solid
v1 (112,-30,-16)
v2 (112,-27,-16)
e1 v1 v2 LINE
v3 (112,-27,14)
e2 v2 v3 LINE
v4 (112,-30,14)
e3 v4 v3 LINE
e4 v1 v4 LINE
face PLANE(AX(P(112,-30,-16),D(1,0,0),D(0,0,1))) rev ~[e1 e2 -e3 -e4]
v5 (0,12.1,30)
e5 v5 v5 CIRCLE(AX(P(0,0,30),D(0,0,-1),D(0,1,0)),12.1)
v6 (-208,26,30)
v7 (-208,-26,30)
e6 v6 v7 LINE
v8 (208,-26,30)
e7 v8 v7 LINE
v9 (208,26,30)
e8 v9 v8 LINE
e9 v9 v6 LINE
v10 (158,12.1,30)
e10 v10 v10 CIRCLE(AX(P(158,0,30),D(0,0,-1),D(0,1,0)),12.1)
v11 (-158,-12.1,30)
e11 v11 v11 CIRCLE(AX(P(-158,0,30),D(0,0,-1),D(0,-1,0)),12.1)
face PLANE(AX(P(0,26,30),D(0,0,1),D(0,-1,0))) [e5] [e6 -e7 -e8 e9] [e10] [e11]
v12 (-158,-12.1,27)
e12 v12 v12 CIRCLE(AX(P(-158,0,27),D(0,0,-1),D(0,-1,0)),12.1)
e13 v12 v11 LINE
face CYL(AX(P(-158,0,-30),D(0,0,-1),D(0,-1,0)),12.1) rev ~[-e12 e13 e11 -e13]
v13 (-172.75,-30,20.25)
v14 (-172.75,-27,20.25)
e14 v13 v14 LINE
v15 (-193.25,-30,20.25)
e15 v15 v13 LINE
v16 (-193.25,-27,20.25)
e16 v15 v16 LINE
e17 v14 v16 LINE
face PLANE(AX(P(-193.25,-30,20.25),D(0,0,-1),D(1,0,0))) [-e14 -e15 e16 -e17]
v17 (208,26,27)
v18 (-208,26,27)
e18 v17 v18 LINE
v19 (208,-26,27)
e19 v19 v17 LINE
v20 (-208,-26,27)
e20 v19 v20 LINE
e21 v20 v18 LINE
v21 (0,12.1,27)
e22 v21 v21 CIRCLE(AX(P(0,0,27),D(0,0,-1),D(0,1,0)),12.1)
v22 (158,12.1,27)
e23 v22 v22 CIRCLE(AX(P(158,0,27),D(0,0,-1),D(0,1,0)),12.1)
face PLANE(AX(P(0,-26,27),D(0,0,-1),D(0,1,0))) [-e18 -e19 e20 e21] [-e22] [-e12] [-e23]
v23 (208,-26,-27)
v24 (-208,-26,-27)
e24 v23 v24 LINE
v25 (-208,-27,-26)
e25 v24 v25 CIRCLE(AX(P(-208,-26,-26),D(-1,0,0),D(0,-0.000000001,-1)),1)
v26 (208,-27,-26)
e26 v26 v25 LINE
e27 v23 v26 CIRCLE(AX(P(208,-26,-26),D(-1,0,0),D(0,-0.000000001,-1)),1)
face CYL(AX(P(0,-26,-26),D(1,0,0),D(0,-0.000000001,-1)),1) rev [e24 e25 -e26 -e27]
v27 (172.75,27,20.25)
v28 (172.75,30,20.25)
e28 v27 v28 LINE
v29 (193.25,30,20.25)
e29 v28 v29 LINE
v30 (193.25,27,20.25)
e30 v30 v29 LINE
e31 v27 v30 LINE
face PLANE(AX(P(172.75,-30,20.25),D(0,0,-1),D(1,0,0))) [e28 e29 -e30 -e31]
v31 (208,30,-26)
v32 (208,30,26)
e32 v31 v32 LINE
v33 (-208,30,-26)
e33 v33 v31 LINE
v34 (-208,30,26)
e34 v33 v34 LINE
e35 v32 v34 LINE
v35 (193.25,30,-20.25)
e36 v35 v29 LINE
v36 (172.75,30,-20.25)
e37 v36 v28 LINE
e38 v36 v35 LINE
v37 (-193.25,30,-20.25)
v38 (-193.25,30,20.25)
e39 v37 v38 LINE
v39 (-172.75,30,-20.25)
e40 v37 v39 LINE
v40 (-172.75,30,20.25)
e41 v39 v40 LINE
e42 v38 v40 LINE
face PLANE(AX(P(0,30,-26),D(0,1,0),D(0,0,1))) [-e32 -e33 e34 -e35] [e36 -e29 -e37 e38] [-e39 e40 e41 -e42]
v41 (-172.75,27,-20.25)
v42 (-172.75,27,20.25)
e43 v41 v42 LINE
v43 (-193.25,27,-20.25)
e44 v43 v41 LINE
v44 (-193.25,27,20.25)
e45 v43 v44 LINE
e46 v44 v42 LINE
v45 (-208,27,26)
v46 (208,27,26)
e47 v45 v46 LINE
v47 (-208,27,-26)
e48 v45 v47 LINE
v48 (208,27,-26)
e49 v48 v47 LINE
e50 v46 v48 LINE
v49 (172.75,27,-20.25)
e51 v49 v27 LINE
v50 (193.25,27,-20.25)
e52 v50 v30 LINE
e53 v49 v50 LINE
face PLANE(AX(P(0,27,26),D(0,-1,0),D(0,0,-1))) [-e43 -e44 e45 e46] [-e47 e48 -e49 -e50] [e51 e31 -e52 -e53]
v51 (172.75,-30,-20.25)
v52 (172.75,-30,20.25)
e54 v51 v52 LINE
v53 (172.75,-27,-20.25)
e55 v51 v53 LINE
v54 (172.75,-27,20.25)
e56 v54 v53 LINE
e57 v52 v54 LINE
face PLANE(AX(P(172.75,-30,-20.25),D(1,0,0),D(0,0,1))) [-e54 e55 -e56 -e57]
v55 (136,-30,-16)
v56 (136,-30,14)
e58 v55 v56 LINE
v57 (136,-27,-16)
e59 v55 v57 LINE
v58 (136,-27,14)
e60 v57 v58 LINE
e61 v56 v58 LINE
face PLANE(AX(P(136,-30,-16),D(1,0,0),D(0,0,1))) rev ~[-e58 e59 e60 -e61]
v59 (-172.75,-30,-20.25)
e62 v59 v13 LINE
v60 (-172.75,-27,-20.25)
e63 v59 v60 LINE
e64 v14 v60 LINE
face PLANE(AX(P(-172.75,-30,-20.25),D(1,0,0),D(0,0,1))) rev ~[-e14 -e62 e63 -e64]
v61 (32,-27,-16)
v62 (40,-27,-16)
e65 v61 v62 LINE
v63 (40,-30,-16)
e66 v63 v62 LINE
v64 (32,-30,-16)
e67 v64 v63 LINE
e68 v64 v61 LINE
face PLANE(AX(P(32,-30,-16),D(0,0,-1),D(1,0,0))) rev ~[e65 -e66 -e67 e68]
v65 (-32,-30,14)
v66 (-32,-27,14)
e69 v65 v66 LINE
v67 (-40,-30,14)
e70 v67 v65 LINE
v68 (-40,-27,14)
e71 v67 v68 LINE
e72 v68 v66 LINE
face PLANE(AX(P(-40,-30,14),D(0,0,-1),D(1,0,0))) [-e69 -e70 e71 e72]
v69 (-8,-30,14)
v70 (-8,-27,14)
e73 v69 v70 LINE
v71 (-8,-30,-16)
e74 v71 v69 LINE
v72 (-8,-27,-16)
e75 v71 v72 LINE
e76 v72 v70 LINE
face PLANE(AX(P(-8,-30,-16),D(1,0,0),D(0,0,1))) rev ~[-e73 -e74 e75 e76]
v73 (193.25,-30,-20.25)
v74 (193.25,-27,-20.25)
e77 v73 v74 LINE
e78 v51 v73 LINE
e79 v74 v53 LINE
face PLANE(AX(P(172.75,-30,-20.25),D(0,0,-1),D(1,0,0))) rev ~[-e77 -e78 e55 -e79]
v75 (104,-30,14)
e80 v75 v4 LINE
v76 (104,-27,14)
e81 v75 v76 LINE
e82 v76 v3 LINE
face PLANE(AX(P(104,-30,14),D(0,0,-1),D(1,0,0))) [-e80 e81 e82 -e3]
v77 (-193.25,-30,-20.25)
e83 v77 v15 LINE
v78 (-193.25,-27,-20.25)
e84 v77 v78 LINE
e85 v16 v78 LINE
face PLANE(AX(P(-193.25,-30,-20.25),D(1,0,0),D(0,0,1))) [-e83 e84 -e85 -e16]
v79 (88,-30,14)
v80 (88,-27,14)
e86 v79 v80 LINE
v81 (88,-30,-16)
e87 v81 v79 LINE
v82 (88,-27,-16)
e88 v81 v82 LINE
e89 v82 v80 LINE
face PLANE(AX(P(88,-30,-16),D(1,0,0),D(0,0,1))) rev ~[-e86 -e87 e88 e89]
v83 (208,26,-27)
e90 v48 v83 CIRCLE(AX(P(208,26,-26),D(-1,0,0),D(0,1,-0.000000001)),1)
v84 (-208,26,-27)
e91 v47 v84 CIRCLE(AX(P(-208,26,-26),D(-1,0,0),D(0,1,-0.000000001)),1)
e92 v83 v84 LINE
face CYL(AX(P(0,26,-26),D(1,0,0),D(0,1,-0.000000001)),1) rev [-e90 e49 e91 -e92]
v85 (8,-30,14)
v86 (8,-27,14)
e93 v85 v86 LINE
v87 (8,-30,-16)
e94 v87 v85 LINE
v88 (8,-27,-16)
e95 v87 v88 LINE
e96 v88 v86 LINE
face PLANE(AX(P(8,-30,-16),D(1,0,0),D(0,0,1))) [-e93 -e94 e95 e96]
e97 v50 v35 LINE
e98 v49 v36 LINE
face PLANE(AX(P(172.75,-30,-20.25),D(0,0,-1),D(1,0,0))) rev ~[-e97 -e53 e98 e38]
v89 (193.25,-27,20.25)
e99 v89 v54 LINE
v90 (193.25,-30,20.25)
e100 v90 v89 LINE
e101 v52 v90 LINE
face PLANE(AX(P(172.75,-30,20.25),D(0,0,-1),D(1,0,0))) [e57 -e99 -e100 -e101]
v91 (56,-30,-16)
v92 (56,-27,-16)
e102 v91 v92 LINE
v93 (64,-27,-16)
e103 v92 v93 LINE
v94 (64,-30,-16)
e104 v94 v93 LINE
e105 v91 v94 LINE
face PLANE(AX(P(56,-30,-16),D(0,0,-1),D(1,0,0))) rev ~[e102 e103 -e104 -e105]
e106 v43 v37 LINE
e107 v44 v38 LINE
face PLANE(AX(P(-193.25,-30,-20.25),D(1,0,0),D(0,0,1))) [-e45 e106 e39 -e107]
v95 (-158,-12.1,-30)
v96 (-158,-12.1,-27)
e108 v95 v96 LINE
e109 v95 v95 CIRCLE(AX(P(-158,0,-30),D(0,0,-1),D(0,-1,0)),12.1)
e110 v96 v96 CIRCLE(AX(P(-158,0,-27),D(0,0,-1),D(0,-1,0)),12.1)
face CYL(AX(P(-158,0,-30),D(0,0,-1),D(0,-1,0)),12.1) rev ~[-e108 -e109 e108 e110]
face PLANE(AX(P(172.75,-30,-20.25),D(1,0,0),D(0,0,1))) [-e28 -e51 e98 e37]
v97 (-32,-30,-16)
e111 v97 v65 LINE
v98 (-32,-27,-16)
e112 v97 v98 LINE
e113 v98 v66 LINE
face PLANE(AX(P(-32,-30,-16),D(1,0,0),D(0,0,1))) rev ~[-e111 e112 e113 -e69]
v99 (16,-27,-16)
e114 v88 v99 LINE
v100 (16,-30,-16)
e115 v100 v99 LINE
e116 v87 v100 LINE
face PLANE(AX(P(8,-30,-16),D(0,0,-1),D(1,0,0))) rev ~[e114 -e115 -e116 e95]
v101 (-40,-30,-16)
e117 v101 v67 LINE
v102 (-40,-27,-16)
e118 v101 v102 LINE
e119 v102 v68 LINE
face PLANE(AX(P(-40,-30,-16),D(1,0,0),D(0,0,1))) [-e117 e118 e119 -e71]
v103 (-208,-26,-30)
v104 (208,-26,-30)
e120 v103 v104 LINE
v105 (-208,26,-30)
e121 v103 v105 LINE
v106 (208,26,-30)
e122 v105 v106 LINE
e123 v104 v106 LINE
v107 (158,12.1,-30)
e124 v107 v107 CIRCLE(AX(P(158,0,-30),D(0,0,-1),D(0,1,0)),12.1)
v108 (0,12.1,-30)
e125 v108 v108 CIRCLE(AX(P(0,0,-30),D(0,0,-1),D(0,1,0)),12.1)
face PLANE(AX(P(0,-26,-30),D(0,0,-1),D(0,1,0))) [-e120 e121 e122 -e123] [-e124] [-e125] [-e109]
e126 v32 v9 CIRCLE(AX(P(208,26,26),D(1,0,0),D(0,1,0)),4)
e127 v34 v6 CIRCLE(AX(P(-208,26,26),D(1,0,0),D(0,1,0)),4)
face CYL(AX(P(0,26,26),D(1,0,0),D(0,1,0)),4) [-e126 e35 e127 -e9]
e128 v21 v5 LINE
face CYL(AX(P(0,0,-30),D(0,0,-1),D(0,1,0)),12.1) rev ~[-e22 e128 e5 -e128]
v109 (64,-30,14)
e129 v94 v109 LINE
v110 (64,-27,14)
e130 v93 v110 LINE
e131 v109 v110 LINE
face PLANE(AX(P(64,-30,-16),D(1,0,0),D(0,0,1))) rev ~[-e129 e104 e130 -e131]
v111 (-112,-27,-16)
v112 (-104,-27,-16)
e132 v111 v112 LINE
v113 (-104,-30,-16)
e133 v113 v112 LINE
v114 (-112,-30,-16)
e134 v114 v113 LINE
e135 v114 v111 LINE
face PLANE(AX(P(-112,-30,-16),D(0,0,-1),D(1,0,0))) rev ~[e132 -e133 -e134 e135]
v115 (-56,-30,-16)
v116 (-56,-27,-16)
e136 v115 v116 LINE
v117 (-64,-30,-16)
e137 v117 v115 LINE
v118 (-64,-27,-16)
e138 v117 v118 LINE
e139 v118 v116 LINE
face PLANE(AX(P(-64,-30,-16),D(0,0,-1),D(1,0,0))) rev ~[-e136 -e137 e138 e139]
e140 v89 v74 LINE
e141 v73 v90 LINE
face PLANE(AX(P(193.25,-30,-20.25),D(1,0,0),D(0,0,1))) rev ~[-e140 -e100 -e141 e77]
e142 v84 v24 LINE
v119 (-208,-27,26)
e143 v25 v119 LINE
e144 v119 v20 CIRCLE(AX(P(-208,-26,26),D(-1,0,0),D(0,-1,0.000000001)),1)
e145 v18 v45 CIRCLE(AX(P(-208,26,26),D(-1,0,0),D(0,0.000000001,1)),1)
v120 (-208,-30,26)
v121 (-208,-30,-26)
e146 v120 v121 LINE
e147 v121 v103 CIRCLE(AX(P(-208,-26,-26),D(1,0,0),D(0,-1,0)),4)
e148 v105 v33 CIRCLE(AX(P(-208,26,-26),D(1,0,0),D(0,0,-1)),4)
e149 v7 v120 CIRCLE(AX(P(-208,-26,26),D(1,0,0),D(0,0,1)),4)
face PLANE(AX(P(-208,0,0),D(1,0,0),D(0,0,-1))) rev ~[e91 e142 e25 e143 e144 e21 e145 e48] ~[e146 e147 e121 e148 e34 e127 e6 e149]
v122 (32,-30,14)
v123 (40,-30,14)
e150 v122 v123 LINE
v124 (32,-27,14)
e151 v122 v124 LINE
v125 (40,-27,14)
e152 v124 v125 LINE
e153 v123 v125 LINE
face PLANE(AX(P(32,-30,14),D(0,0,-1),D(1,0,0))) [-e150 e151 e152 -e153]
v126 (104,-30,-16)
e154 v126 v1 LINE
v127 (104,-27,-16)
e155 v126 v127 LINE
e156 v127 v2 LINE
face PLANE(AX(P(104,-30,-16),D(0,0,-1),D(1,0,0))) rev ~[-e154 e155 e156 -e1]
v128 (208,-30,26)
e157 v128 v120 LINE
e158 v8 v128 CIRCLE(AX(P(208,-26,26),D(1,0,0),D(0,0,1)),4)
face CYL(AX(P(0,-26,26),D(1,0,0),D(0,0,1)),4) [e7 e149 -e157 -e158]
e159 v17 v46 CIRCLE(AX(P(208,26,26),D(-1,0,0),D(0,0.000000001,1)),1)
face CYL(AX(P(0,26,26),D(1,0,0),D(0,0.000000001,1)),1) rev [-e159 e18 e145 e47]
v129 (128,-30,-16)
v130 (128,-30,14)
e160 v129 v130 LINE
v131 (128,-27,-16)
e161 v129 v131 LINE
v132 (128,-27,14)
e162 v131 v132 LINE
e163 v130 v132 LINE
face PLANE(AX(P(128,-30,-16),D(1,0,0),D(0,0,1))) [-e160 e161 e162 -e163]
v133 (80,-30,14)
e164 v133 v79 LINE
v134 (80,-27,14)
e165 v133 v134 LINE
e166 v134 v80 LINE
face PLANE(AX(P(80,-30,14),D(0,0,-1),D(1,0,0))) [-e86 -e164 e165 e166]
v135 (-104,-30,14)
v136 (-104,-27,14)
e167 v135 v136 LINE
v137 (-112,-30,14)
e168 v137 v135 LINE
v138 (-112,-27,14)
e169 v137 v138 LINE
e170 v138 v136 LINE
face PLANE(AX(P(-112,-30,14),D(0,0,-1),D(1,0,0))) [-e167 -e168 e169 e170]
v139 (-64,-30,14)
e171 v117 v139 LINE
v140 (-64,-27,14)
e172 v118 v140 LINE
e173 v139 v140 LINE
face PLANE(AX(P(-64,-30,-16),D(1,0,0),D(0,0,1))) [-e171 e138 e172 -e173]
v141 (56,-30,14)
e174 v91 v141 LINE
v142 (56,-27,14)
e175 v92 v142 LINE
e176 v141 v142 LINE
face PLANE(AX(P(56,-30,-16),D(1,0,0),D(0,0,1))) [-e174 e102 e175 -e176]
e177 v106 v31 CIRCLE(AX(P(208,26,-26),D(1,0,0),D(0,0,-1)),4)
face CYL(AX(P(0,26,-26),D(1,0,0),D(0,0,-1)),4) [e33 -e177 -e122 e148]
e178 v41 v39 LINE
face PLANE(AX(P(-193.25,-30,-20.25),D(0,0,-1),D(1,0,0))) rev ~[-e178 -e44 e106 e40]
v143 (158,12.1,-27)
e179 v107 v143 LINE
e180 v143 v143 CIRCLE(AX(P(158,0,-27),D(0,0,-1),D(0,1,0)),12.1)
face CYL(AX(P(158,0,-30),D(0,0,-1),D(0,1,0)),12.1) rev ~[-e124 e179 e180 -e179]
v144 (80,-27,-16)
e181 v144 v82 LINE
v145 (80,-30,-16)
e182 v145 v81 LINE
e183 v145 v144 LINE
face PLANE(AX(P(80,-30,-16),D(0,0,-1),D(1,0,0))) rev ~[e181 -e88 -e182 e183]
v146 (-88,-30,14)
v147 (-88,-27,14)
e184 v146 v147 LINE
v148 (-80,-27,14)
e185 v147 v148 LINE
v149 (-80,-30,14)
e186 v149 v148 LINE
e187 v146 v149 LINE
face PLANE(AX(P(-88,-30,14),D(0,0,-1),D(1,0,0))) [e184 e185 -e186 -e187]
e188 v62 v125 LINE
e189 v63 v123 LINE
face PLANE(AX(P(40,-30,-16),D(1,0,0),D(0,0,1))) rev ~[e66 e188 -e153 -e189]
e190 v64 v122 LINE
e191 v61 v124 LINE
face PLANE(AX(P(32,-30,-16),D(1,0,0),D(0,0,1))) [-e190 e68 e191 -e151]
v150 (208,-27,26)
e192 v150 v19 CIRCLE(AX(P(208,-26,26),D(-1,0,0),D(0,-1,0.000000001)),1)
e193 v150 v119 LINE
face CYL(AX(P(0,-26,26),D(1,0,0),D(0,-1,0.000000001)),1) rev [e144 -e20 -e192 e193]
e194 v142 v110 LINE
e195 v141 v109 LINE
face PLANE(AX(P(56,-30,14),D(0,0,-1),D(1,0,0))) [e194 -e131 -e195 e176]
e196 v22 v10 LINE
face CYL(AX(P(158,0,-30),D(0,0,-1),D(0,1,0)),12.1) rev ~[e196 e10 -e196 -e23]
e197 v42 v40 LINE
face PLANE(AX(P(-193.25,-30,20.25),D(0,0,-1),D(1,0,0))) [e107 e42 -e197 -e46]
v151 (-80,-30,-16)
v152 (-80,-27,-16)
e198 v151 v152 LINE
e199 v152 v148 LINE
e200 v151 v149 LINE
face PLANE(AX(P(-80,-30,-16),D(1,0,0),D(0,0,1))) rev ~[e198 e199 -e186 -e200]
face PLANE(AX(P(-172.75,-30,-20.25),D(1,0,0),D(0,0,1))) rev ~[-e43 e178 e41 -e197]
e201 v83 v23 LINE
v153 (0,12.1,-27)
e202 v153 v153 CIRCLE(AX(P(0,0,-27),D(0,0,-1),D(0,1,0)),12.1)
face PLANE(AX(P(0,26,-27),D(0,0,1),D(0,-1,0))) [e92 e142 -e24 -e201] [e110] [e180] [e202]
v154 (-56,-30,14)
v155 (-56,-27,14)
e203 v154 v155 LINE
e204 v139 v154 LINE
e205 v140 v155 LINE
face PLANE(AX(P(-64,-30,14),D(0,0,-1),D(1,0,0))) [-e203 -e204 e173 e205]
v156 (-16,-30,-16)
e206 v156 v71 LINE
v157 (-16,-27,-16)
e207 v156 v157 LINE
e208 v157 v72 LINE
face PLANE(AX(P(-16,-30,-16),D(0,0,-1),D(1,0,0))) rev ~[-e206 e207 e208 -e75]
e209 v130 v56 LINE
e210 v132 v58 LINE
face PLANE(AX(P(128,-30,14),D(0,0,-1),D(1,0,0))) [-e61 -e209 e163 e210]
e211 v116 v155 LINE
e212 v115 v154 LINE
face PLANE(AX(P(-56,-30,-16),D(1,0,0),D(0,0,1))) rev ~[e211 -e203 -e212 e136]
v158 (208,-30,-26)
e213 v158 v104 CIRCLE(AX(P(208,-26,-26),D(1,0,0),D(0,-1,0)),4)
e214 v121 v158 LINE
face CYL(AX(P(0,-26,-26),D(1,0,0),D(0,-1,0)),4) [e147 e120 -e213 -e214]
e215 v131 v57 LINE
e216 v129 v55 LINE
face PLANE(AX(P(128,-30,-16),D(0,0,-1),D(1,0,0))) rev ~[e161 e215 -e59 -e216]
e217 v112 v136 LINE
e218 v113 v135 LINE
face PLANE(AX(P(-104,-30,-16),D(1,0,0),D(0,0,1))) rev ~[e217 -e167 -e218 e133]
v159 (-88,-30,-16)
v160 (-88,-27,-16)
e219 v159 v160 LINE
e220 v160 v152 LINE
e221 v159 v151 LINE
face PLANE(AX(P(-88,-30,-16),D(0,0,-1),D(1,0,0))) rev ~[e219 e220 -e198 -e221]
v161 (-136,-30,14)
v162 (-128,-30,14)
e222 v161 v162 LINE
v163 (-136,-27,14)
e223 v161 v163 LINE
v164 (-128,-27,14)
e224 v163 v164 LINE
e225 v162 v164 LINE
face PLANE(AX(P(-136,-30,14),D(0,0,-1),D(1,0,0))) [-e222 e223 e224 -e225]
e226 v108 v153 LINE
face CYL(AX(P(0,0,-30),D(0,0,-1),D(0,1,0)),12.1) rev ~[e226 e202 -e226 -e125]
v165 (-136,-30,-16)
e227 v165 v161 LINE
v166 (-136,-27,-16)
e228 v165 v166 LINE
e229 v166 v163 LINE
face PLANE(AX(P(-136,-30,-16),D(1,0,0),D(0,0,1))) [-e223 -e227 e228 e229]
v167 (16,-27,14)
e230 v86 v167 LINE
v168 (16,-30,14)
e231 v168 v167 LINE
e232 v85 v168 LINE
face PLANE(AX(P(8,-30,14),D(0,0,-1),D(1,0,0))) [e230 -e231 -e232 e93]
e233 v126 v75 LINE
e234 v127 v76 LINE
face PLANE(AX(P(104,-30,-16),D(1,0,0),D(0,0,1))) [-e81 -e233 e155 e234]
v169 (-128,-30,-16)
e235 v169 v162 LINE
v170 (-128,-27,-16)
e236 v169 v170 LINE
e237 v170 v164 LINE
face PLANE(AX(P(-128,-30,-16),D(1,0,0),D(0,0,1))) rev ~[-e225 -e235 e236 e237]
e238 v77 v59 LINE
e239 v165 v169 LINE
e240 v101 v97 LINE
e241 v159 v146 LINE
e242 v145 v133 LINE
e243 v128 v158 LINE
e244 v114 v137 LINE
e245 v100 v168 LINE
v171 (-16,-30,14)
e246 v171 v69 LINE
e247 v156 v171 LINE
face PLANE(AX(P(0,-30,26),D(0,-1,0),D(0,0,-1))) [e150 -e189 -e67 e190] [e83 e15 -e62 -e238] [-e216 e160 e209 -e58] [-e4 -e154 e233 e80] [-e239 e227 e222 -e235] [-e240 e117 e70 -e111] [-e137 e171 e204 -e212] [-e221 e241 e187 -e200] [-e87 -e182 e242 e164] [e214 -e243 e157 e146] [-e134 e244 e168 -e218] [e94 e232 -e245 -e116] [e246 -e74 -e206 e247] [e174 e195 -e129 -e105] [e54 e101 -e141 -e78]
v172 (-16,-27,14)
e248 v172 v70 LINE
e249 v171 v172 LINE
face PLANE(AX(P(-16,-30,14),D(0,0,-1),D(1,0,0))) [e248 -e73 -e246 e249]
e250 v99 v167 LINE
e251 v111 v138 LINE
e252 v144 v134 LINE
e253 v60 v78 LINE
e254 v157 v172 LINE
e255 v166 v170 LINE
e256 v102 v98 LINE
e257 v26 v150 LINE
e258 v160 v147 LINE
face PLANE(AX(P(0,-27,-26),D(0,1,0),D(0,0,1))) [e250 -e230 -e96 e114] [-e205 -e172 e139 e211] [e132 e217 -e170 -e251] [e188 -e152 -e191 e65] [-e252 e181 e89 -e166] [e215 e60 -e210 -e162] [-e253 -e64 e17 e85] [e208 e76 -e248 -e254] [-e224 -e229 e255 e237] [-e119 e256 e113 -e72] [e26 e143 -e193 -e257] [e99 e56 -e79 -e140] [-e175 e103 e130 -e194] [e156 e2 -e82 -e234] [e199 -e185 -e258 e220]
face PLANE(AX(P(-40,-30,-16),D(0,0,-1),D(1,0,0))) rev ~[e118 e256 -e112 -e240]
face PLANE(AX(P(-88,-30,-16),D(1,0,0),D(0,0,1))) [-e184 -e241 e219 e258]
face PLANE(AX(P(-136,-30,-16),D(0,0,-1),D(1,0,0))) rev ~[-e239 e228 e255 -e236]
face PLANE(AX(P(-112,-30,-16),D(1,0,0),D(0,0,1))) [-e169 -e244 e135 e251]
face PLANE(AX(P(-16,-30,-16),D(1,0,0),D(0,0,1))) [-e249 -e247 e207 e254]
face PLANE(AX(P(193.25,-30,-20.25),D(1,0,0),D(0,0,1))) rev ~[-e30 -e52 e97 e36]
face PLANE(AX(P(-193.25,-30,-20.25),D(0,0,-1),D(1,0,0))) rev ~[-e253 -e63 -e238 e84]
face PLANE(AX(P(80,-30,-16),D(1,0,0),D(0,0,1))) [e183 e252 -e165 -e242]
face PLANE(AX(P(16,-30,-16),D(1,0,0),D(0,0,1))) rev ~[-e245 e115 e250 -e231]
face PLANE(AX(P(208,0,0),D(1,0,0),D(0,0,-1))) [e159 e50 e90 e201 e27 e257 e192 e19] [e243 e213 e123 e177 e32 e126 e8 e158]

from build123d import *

# Parameters (mm, degrees)
EXTRUDE_1_DEPTH            = 208
SKETCH_3_W                 = 8
SKETCH_3_H                 = 30
CUT_EXTRUDE_1_DEPTH        = 3
PATTERN_LINEAR_1_COUNT     = 6
PATTERN_LINEAR_1_PITCH     = 24
PATTERN_LINEAR_1_COL_COUNT = 7
PATTERN_LINEAR_1_COL_PITCH = 24
CUT_EXTRUDE_2_REACH        = 220.55
SKETCH_5_W                 = 20.5
SKETCH_5_H                 = 40.5
CUT_EXTRUDE_5_REACH        = 220.55
SKETCH_10_R                = 12.1


with BuildPart() as part:
    # Эскиз1 → Бобышка-Вытянуть1 (new, symmetric)
    with BuildSketch(Plane(origin=(0, 0, 0), x_dir=(0, 0, -1), z_dir=(1, 0, 0))):
        with BuildLine():
            Line((-26, -30), (26, -30))
            ThreePointArc((26, -30), (28.828427125, -28.828427125), (30, -26))
            Line((30, -26), (30, 26))
            ThreePointArc((30, 26), (28.828427125, 28.828427125), (26, 30))
            Line((26, 30), (-26, 30))
            ThreePointArc((-26, 30), (-28.828427125, 28.828427125), (-30, 26))
            Line((-30, 26), (-30, -26))
            ThreePointArc((-30, -26), (-28.828427125, -28.828427125), (-26, -30))
        make_face()
        with BuildLine():
            Line((-26, 27), (26, 27))
            ThreePointArc((26, 27), (26.707106781, 26.707106781), (27, 26))
            Line((27, 26), (27, -26))
            ThreePointArc((27, -26), (26.707106781, -26.707106781), (26, -27))
            Line((26, -27), (-26, -27))
            ThreePointArc((-26, -27), (-26.707106781, -26.707106781), (-27, -26))
            Line((-27, -26), (-27, 26))
            ThreePointArc((-27, 26), (-26.707106781, 26.707106781), (-26, 27))
        make_face(mode=Mode.SUBTRACT)
    extrude(amount=EXTRUDE_1_DEPTH, both=True)

    # Эскиз3 → Вырез-Вытянуть1 (cut)
    with BuildSketch(Plane.XZ.offset(30)):
        with Locations((-12, -1)):
            Rectangle(SKETCH_3_W, SKETCH_3_H)
    cut_extrude_1 = extrude(amount=-CUT_EXTRUDE_1_DEPTH, mode=Mode.SUBTRACT)

    # Линейный массив1: Вырез-Вытянуть1 ×6
    with Locations(*[(-i * PATTERN_LINEAR_1_PITCH, 0, 0) for i in range(1, PATTERN_LINEAR_1_COUNT)]):
        add(cut_extrude_1, mode=Mode.SUBTRACT)

    # Линейный массив1 col: Вырез-Вытянуть1 ×7
    with Locations(*[(i * PATTERN_LINEAR_1_COL_PITCH, 0, 0) for i in range(1, PATTERN_LINEAR_1_COL_COUNT)]):
        add(cut_extrude_1, mode=Mode.SUBTRACT)

    # Вырез-Вытянуть2: up to this face of the body (flat: up to its plane)
    cut_extrude_2_end = Plane(part.part.faces().sort_by_distance((0, 30, 0))[0])
    # Эскиз5 → Вырез-Вытянуть2 (cut, up to the picked face)
    with BuildSketch(Plane.XZ.offset(30), mode=Mode.PRIVATE) as cut_extrude_2_sk1:
        with Locations((-183, 0)):
            Rectangle(SKETCH_5_W, SKETCH_5_H)
    cut_extrude_2_tool1 = split(extrude(cut_extrude_2_sk1.sketch, amount=-CUT_EXTRUDE_2_REACH, mode=Mode.PRIVATE), bisect_by=cut_extrude_2_end, keep=Keep.BOTH, mode=Mode.PRIVATE)
    # Эскиз5 → Вырез-Вытянуть2 (cut, up to the picked face)
    with BuildSketch(Plane.XZ.offset(30), mode=Mode.PRIVATE) as cut_extrude_2_sk2:
        with Locations((183, 0)):
            Rectangle(SKETCH_5_W, SKETCH_5_H)
    cut_extrude_2_tool2 = split(extrude(cut_extrude_2_sk2.sketch, amount=-CUT_EXTRUDE_2_REACH, mode=Mode.PRIVATE), bisect_by=cut_extrude_2_end, keep=Keep.BOTH, mode=Mode.PRIVATE)
    add(cut_extrude_2_tool1.solids().sort_by(Axis((-183, -30, 0), (0, 1, 0)))[0], mode=Mode.SUBTRACT)
    add(cut_extrude_2_tool2.solids().sort_by(Axis((183, -30, 0), (0, 1, 0)))[0], mode=Mode.SUBTRACT)

    # Вырез-Вытянуть5: up to this face of the body (flat: up to its plane)
    cut_extrude_5_end = Plane(part.part.faces().sort_by_distance((0, 0, 30))[0])
    # Эскиз10 → Вырез-Вытянуть5 (cut, up to the picked face)
    with BuildSketch(Plane(origin=(0, 0, -30), x_dir=(-1, 0, 0), z_dir=(0, 0, -1)), mode=Mode.PRIVATE) as cut_extrude_5_sk1:
        with Locations(Location((-158, 0, 0), (0, 0, 90))):
            Circle(SKETCH_10_R)
    cut_extrude_5_tool1 = split(extrude(cut_extrude_5_sk1.sketch, amount=-CUT_EXTRUDE_5_REACH, mode=Mode.PRIVATE), bisect_by=cut_extrude_5_end, keep=Keep.BOTH, mode=Mode.PRIVATE)
    # Эскиз10 → Вырез-Вытянуть5 (cut, up to the picked face)
    with BuildSketch(Plane(origin=(0, 0, -30), x_dir=(-1, 0, 0), z_dir=(0, 0, -1)), mode=Mode.PRIVATE) as cut_extrude_5_sk2:
        with Locations(Location((158, 0, 0), (0, 0, 270))):
            Circle(SKETCH_10_R)
    cut_extrude_5_tool2 = split(extrude(cut_extrude_5_sk2.sketch, amount=-CUT_EXTRUDE_5_REACH, mode=Mode.PRIVATE), bisect_by=cut_extrude_5_end, keep=Keep.BOTH, mode=Mode.PRIVATE)
    # Эскиз10 → Вырез-Вытянуть5 (cut, up to the picked face)
    with BuildSketch(Plane(origin=(0, 0, -30), x_dir=(-1, 0, 0), z_dir=(0, 0, -1)), mode=Mode.PRIVATE) as cut_extrude_5_sk3:
        with Locations(Location((0, 0, 0), (0, 0, 90))):
            Circle(SKETCH_10_R)
    cut_extrude_5_tool3 = split(extrude(cut_extrude_5_sk3.sketch, amount=-CUT_EXTRUDE_5_REACH, mode=Mode.PRIVATE), bisect_by=cut_extrude_5_end, keep=Keep.BOTH, mode=Mode.PRIVATE)
    add(cut_extrude_5_tool1.solids().sort_by(Axis((158, 0, -30), (0, 0, 1)))[0], mode=Mode.SUBTRACT)
    add(cut_extrude_5_tool2.solids().sort_by(Axis((-158, 0, -30), (0, 0, 1)))[0], mode=Mode.SUBTRACT)
    add(cut_extrude_5_tool3.solids().sort_by(Axis((0, 0, -30), (0, 0, 1)))[0], mode=Mode.SUBTRACT)


solid = part.part
